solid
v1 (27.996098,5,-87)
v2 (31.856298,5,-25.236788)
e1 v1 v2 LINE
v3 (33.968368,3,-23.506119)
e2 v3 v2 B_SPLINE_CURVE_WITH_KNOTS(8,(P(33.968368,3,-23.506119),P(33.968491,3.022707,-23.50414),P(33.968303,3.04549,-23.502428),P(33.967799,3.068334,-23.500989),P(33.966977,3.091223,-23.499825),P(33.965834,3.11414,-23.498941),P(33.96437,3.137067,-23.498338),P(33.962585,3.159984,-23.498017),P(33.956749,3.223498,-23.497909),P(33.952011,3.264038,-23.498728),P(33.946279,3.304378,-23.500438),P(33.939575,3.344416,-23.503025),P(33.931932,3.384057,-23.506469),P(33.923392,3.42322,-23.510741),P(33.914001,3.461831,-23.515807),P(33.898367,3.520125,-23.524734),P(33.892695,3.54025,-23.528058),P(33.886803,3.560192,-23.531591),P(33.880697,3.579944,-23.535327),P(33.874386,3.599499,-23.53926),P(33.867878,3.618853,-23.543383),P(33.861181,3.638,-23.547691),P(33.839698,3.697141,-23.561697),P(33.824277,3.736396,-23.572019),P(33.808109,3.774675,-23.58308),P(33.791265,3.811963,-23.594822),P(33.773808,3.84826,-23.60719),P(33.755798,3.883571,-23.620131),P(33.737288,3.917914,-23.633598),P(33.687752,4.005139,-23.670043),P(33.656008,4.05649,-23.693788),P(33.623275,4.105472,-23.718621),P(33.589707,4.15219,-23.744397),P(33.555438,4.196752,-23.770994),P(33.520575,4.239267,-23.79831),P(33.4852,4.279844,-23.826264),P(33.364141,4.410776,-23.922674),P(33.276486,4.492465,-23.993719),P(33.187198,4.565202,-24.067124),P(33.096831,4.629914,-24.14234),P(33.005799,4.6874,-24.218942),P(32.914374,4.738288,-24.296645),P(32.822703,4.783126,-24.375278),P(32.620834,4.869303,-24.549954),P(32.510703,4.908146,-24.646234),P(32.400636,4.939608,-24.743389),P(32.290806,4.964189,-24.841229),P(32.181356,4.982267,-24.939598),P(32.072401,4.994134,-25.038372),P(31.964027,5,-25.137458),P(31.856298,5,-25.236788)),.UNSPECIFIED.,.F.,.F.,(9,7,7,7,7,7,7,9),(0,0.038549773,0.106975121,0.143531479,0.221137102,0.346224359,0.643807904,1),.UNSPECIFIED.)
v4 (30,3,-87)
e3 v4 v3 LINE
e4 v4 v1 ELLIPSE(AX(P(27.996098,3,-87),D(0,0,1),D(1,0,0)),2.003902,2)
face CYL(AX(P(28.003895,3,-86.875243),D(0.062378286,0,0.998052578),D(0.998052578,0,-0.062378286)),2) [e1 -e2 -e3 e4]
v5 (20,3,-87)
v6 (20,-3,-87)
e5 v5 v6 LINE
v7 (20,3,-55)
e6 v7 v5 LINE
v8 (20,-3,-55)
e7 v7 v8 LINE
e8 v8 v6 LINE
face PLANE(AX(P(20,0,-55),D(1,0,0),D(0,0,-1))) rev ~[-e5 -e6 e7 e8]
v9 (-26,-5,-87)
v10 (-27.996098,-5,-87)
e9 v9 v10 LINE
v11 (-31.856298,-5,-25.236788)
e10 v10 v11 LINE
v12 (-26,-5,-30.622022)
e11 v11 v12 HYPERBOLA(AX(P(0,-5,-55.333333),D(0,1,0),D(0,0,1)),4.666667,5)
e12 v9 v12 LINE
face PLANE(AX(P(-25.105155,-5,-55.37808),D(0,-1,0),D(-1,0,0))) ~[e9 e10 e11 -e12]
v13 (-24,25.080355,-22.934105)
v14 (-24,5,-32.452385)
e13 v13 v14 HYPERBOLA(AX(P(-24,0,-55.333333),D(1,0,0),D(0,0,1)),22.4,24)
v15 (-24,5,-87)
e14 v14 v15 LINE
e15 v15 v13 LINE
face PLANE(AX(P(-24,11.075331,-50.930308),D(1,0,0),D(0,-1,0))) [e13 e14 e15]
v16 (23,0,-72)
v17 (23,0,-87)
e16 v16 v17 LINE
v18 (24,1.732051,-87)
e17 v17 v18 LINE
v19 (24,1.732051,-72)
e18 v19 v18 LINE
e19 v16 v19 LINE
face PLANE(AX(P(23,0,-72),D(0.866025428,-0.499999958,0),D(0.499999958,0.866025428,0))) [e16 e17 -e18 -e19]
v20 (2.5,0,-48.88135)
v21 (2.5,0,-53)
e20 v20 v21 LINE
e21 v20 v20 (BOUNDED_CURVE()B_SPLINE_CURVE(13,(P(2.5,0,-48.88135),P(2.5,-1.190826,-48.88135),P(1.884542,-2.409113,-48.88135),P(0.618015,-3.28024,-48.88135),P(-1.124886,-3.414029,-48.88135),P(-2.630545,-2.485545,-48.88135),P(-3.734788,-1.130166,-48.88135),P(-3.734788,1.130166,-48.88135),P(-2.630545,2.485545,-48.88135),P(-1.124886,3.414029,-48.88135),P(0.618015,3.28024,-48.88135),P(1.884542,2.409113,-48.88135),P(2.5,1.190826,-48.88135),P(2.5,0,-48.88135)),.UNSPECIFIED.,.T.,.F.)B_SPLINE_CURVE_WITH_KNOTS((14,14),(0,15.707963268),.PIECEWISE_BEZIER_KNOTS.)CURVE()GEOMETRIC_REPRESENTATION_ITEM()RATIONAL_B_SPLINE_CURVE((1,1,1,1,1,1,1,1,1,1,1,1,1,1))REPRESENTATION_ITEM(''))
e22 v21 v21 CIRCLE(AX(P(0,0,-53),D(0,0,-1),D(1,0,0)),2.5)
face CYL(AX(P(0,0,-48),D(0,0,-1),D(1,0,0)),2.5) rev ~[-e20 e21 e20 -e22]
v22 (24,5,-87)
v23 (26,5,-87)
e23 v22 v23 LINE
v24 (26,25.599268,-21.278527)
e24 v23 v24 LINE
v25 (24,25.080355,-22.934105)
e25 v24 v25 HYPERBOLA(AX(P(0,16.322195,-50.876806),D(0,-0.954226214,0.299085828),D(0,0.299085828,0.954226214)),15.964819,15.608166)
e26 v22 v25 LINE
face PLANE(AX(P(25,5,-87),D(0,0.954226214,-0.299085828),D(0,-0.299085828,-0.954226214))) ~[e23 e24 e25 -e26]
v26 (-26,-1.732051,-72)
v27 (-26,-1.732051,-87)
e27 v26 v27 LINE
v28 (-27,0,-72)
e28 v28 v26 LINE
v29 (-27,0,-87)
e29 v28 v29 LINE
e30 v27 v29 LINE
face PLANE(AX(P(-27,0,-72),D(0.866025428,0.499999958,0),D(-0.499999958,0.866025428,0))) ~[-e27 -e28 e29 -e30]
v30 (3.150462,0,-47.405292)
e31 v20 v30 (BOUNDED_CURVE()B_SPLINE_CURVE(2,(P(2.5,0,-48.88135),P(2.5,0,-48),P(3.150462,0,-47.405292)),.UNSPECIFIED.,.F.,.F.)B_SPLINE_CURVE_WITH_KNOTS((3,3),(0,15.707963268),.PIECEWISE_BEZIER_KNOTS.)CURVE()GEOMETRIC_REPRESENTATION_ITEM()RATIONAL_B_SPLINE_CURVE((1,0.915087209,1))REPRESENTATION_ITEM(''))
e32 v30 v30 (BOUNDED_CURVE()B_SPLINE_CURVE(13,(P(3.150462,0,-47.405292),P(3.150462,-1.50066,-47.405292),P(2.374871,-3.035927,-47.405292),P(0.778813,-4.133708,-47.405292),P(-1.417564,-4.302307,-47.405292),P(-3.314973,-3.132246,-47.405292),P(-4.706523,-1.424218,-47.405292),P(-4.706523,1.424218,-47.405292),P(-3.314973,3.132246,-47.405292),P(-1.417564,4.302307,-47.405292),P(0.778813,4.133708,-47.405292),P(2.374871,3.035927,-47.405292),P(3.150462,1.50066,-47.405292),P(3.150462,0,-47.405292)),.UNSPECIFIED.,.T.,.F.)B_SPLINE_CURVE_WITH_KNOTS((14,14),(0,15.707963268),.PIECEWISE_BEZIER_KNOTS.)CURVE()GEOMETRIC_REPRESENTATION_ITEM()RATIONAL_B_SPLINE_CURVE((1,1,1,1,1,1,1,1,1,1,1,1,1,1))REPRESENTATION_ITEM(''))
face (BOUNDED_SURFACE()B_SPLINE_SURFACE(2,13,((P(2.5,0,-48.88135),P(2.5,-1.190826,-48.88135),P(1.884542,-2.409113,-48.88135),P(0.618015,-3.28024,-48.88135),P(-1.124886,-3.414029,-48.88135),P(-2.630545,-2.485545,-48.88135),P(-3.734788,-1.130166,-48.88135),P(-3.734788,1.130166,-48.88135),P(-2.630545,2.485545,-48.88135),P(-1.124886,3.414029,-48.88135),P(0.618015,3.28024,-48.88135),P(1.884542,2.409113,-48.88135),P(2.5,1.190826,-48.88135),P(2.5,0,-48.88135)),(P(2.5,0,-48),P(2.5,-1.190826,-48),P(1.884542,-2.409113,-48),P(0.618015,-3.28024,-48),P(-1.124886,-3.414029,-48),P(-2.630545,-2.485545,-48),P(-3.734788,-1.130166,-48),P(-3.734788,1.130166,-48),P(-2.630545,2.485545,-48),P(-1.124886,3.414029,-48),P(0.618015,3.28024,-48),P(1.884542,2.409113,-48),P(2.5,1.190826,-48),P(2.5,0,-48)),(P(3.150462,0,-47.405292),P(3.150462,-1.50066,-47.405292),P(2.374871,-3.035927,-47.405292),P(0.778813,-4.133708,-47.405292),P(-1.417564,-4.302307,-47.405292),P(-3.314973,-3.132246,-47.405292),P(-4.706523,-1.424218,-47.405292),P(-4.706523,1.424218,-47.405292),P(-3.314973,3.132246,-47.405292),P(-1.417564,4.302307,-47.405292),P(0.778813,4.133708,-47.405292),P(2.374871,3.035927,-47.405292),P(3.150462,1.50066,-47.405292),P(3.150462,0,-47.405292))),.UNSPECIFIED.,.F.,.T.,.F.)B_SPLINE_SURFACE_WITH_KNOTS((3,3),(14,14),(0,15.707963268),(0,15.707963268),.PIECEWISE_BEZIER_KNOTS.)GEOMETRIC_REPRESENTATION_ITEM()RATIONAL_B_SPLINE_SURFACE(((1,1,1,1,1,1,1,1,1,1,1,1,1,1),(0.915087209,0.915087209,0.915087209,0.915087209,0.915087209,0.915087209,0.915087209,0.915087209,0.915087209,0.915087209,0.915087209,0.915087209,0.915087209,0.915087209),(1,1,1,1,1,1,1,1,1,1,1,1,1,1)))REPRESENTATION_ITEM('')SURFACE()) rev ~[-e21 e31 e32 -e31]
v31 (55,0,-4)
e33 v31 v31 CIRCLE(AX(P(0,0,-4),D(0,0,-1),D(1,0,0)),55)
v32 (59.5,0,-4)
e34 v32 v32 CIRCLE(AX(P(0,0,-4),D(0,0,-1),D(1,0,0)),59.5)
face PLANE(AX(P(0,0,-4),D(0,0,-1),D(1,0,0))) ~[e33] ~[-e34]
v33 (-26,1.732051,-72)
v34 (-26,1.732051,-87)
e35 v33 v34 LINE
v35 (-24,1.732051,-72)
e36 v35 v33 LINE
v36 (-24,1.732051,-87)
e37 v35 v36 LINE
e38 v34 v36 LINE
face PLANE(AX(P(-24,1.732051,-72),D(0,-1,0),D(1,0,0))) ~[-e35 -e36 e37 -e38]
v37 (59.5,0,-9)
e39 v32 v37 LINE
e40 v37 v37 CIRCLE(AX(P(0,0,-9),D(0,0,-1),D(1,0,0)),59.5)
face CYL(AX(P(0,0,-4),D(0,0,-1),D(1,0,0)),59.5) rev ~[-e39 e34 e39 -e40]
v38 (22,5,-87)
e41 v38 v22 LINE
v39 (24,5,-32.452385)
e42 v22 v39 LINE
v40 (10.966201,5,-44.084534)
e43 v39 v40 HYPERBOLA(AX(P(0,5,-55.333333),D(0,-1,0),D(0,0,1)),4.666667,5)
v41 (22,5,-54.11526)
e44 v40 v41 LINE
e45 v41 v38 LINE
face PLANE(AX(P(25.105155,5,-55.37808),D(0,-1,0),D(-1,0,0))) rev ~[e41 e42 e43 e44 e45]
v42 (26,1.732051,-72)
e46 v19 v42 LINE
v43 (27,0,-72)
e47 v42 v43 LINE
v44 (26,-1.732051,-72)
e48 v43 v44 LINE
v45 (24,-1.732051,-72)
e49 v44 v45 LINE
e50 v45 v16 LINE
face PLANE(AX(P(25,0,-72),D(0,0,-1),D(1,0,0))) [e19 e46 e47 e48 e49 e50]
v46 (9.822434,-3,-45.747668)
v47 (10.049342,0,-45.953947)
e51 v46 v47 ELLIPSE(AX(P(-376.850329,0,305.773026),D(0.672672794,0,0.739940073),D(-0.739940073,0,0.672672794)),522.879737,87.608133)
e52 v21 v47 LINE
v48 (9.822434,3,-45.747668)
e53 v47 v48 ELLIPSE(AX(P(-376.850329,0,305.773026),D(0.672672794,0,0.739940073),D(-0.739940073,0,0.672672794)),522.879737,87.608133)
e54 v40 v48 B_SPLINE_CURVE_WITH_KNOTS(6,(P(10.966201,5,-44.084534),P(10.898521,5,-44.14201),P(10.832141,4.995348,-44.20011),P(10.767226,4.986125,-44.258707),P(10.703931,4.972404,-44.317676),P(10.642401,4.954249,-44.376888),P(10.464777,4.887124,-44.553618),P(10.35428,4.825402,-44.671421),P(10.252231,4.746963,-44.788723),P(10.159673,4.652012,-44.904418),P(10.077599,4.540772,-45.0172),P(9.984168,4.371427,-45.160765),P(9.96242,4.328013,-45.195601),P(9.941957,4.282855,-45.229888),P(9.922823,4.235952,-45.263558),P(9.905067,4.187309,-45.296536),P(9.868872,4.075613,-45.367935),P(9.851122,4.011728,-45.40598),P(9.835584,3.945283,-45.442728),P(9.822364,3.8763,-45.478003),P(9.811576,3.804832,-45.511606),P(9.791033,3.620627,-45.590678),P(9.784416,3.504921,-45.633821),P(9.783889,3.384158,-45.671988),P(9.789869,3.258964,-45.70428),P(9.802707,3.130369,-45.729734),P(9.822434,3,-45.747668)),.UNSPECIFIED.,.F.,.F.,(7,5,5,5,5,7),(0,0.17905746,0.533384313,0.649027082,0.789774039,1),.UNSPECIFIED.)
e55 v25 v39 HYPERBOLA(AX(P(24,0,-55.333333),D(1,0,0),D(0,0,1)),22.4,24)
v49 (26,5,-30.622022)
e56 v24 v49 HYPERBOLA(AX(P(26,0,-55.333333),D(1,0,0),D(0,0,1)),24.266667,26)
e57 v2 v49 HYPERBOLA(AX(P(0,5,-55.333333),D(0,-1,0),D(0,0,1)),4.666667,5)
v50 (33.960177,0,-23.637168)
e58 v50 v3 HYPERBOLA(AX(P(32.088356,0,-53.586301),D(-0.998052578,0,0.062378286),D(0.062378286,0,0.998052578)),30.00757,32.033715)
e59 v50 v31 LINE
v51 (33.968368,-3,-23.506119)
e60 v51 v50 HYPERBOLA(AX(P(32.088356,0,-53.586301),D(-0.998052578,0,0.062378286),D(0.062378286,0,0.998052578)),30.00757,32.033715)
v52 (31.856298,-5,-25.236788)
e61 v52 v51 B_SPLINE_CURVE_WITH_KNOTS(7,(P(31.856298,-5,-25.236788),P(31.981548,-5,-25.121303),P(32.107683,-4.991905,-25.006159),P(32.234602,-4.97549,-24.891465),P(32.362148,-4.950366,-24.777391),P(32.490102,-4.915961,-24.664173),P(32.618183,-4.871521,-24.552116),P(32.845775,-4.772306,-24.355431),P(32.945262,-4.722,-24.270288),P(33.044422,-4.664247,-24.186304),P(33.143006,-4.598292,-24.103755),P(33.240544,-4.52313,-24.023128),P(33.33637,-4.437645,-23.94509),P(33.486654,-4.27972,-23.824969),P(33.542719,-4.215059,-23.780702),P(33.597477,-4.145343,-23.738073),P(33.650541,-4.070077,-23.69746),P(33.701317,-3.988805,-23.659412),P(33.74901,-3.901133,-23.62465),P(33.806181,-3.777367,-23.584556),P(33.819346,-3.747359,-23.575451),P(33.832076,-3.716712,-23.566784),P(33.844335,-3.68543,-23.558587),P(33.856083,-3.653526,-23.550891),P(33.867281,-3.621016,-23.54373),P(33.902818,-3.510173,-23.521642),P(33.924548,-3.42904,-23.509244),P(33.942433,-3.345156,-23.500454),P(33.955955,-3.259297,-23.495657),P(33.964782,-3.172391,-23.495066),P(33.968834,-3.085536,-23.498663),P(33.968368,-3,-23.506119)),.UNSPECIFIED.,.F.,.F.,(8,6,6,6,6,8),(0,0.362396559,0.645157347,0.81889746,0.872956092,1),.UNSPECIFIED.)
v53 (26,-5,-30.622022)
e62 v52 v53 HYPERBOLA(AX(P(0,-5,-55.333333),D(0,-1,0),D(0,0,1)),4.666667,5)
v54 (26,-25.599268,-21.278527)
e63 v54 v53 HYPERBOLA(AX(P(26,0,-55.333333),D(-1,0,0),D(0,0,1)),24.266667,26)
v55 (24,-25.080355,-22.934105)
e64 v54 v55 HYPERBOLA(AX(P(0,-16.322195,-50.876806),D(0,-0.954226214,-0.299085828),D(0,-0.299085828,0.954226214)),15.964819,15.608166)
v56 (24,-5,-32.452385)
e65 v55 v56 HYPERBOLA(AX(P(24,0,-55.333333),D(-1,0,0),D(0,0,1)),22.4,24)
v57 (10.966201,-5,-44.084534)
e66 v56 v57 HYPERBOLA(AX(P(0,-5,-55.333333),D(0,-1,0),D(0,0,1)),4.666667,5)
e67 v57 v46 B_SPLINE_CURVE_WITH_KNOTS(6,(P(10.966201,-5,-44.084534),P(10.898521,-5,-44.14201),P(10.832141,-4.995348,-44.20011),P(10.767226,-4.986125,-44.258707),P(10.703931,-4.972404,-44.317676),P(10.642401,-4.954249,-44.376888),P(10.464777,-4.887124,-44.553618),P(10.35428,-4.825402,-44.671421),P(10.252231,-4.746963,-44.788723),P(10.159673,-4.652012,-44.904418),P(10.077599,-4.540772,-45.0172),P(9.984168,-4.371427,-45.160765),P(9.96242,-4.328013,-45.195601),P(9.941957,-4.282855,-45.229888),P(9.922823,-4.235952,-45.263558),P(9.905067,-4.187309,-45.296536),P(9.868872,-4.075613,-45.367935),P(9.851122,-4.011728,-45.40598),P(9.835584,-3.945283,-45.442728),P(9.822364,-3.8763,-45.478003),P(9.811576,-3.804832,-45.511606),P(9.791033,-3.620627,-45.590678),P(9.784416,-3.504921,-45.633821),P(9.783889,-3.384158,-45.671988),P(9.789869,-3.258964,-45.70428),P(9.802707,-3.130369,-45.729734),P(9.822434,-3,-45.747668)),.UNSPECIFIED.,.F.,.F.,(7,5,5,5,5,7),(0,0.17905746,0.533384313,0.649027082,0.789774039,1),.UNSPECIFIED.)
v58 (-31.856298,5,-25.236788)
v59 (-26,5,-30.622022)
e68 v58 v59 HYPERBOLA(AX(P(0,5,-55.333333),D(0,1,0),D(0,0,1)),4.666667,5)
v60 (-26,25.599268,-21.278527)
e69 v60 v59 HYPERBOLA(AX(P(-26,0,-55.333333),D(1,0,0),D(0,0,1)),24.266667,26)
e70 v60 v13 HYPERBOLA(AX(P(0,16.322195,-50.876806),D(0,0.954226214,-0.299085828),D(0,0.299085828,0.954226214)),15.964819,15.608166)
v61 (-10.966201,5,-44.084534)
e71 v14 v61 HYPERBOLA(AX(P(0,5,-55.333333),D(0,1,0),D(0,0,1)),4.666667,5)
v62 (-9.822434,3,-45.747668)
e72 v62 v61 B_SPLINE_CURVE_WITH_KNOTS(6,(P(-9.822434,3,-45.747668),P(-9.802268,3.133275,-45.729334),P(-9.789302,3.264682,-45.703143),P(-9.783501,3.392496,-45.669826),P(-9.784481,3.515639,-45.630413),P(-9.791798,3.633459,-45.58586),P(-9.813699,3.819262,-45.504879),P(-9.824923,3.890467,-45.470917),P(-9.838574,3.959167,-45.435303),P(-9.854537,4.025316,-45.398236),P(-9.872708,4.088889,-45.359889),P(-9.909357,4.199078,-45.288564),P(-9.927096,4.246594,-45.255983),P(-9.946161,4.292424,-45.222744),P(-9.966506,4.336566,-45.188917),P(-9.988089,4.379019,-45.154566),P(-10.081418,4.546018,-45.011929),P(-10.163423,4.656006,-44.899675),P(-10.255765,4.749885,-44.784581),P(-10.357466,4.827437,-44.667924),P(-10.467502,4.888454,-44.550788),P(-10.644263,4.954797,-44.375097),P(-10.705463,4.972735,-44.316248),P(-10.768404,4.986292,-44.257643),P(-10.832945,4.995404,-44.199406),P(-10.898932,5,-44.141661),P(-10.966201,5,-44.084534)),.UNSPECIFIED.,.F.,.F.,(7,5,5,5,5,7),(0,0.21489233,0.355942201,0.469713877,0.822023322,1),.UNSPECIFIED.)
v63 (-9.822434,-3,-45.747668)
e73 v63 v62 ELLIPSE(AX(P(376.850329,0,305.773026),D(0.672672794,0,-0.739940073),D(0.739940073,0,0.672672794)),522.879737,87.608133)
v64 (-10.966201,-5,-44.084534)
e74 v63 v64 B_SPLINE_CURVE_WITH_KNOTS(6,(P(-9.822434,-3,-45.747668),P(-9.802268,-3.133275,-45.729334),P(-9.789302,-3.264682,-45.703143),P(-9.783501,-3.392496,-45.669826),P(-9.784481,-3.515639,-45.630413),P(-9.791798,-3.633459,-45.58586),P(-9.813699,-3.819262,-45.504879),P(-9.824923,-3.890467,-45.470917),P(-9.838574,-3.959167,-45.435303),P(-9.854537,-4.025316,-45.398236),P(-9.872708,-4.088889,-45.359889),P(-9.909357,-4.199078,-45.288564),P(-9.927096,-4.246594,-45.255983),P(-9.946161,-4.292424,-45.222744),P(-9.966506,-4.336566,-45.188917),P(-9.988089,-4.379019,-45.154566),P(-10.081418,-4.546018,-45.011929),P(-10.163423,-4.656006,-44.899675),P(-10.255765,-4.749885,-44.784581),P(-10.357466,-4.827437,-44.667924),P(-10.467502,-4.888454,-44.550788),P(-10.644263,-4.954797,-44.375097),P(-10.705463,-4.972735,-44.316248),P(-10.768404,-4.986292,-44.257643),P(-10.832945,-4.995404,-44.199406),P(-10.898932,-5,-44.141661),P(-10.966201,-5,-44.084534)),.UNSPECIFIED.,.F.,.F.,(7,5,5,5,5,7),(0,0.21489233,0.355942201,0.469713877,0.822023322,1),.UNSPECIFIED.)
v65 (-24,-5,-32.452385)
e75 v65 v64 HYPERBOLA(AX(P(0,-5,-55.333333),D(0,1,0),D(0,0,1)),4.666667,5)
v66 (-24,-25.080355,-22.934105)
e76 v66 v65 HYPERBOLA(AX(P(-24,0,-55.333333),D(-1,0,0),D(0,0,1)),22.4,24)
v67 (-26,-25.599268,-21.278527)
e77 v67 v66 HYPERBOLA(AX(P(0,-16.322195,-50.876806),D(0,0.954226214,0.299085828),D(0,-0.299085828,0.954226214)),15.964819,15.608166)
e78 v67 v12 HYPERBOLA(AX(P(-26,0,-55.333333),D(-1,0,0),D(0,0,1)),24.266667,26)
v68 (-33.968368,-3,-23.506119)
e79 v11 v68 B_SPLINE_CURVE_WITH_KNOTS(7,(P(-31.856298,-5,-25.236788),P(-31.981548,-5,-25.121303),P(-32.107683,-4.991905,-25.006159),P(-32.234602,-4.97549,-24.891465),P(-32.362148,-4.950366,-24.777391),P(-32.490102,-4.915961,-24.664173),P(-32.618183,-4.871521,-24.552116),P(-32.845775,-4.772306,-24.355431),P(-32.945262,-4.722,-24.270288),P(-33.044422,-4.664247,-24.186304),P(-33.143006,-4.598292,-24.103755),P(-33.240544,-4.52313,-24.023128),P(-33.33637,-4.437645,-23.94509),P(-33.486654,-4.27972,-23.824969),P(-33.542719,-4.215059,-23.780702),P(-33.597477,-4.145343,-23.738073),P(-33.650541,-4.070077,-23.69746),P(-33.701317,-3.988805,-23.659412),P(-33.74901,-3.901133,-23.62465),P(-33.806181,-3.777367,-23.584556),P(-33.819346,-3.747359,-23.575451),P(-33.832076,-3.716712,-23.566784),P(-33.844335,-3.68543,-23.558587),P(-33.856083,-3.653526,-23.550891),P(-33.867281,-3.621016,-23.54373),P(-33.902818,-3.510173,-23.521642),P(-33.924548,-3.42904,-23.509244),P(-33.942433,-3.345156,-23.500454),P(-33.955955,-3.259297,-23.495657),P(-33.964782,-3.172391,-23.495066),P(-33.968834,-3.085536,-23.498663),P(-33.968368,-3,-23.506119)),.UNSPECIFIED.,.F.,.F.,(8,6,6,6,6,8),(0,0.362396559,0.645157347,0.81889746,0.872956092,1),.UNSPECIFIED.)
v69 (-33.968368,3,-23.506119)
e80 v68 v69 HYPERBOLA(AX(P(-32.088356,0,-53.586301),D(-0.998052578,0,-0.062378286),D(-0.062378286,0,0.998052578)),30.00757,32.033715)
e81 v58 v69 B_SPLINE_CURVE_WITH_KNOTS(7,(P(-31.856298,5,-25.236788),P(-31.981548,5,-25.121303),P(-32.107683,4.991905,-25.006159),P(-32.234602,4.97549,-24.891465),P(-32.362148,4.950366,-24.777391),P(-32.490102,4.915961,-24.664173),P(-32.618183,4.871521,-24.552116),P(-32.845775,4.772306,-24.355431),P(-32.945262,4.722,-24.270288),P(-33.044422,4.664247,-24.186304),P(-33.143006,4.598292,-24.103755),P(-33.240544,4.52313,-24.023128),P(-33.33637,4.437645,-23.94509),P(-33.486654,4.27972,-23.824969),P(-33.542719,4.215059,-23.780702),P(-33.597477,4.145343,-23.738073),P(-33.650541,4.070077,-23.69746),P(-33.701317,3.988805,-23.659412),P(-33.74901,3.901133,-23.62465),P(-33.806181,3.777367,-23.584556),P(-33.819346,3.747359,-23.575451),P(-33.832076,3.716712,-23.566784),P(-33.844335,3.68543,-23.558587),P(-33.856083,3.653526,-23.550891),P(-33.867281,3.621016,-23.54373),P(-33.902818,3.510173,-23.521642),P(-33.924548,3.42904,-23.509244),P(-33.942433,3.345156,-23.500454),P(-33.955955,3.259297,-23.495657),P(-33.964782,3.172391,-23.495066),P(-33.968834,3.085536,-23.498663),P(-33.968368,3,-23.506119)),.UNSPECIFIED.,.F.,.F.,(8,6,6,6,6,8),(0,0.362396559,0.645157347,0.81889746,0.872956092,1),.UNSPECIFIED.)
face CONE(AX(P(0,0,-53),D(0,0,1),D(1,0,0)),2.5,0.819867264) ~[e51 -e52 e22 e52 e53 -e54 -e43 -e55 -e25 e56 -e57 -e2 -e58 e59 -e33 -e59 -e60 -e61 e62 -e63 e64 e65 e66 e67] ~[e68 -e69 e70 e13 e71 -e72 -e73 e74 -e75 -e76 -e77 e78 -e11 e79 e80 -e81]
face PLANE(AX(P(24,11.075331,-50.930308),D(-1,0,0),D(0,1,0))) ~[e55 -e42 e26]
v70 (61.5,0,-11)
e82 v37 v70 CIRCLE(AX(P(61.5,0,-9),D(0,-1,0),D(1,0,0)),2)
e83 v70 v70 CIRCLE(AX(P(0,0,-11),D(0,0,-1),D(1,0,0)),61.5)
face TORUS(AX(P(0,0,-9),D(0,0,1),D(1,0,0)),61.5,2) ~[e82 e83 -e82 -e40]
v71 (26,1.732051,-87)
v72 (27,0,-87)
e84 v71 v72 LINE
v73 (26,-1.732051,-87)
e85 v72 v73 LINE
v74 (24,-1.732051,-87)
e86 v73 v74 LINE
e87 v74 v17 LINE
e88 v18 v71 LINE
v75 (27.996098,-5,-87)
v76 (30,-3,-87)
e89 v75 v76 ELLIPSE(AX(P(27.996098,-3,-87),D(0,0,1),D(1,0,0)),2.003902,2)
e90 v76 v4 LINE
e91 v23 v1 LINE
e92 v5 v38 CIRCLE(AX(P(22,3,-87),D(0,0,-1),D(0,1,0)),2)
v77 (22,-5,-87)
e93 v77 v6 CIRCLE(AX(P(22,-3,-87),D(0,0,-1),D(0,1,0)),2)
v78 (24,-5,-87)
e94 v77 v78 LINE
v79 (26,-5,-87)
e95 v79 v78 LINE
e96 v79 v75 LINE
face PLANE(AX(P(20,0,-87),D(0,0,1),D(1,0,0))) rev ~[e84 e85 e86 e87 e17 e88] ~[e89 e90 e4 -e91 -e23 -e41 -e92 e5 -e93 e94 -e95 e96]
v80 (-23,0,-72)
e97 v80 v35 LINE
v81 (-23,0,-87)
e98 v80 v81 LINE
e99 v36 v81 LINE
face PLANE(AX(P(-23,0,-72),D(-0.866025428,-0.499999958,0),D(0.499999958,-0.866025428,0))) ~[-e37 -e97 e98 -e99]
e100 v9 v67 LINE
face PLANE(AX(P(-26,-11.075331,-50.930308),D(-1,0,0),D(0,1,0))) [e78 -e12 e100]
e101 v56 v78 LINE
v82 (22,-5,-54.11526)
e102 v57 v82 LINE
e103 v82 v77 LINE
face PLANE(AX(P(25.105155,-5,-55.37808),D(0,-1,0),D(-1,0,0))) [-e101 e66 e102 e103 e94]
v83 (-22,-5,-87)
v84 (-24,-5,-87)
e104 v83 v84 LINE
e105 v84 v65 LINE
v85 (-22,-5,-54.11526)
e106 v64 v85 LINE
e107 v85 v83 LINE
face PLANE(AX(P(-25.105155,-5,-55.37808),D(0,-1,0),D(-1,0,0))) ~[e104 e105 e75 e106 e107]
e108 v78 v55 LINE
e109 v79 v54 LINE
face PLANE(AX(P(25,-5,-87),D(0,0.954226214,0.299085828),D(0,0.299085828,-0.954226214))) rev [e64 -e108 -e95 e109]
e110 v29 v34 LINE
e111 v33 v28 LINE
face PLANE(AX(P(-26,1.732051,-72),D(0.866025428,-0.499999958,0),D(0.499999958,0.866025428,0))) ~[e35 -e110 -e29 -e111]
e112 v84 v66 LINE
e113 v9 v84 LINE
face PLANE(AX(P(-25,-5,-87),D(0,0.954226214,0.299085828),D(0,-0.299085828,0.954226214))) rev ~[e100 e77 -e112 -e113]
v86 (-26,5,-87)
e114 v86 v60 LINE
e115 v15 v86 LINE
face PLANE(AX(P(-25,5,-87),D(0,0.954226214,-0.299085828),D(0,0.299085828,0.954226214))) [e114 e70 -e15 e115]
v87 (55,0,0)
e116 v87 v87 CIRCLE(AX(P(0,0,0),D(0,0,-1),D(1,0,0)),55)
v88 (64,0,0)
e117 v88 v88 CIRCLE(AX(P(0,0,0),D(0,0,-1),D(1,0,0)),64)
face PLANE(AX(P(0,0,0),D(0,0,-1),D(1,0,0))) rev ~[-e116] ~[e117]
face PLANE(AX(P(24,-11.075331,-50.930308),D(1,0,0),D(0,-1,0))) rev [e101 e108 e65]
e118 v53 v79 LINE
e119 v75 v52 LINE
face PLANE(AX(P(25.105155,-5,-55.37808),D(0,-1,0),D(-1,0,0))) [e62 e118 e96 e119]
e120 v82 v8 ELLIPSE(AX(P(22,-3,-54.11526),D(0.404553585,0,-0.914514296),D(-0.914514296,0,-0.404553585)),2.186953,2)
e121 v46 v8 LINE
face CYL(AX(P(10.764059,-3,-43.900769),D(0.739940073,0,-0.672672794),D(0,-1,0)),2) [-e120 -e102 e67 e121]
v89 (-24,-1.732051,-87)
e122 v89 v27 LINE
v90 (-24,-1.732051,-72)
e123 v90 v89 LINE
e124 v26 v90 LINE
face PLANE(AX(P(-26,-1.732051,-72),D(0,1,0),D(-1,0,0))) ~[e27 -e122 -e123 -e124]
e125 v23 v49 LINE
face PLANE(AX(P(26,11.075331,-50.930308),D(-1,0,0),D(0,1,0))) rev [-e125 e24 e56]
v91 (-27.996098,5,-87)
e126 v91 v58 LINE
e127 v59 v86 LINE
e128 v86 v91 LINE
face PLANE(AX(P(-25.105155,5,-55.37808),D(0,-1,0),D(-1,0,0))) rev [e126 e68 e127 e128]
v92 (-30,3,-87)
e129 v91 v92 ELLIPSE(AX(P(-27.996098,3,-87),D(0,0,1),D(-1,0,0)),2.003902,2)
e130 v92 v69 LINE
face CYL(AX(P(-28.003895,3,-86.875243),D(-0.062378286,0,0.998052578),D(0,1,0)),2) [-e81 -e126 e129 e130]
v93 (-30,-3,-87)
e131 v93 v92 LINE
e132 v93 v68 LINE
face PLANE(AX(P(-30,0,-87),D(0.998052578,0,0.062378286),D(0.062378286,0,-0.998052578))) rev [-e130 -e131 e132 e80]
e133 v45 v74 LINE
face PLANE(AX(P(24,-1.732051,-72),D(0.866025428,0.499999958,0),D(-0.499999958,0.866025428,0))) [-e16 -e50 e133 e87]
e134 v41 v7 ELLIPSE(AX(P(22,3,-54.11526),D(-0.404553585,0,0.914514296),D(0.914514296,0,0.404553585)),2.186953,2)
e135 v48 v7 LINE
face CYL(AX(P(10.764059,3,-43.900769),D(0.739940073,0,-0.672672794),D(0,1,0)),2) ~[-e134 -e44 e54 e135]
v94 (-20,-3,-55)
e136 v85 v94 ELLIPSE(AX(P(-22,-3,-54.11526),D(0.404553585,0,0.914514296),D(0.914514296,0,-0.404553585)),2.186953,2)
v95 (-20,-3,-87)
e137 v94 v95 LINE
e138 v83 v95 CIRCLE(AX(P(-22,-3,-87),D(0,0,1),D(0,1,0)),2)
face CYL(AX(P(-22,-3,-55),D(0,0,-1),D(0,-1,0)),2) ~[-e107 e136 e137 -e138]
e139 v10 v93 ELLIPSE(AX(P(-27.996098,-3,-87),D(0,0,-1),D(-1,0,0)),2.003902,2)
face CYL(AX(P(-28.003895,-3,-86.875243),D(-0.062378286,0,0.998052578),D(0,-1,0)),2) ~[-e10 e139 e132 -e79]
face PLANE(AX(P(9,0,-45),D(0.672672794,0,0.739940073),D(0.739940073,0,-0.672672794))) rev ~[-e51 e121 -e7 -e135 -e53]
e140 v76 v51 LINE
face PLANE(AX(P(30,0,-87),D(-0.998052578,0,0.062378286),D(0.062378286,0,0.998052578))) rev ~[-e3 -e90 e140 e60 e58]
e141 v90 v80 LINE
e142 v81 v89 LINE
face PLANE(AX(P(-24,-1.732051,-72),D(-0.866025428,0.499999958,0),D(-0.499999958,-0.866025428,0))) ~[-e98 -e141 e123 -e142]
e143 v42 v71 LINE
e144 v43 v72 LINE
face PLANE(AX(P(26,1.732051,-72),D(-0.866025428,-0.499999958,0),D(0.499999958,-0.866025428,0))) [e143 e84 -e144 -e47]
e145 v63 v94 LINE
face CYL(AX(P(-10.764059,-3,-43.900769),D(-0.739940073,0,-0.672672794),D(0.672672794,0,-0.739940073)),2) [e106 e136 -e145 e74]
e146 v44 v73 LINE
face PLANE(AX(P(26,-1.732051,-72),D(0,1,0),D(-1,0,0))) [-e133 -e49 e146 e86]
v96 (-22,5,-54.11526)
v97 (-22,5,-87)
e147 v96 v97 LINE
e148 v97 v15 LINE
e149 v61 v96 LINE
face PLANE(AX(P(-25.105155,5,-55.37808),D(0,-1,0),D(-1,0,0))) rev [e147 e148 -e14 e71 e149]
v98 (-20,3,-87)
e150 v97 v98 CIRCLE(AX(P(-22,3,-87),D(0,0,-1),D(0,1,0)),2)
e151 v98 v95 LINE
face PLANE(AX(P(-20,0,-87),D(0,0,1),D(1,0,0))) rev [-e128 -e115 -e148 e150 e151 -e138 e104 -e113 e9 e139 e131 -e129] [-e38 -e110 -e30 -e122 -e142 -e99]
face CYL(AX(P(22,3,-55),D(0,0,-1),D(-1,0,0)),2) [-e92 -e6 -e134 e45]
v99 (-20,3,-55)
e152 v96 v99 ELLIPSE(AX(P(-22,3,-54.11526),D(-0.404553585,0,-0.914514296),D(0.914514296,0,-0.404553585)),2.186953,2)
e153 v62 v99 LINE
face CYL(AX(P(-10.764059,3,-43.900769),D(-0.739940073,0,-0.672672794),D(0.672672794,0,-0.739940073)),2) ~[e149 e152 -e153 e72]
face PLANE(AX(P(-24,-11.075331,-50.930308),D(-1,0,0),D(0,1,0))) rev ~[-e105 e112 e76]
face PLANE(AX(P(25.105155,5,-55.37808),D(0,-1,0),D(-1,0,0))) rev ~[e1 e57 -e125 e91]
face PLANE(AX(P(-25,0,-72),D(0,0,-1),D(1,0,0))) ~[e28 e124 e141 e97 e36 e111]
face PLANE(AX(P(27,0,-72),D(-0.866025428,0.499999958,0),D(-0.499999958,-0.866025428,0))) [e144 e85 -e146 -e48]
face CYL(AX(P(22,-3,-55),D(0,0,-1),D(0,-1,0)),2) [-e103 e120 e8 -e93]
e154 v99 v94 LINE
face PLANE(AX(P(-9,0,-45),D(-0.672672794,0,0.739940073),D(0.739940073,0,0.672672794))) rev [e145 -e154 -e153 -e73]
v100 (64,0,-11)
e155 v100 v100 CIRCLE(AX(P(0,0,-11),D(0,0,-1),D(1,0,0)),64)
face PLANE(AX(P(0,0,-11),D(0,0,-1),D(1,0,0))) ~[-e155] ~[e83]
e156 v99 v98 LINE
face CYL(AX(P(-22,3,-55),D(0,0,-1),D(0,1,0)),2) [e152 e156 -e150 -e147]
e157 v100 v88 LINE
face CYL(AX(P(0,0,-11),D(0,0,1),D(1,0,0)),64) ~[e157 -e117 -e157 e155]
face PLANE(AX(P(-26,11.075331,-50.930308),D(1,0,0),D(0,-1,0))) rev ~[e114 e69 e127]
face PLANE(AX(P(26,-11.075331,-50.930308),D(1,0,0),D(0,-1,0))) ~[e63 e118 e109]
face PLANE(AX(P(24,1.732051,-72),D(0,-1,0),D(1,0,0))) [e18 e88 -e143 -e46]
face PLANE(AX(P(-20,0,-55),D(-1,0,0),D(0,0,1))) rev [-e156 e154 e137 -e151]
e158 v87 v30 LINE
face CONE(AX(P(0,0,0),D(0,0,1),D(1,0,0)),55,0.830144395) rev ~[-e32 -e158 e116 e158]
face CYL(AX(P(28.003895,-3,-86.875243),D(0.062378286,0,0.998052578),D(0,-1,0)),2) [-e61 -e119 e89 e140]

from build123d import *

# Parameters (mm, degrees)
PAD_DEPTH                  = 5
POCKET_DEPTH               = 416.682466
PAD001_DEPTH               = 1
PAD001_MIRRORED002_2_DEPTH = 1
FILLET_R                   = 2
BODY_PLACEMENT_ANGLE       = 180


with BuildPart() as part:
    # Sketch → Revolution (revolve)
    with BuildSketch(Plane.XZ):
        Polygon((2.5, 53), (55, 4), (59.5, 4), (59.5, 11), (64, 11), (64, 0), (55, 0), (2.5, 48), align=None)
    revolve(axis=Axis((0, 0, 0), (0, 0, 1)))

    # Sketch001 → Pad (new body, symmetric)
    with BuildSketch(Plane.XZ):
        Polygon((9, 45), (20, 55), (20, 87), (30, 87), (34, 23), align=None)
    pad = extrude(amount=PAD_DEPTH, both=True)

    # Mirrored: Pad across Sketch001 V_Axis
    add(pad.mirror(Plane(origin=(0, 0, 0), x_dir=(0, -1, 0), z_dir=(1, 0, 0))))

    # Sketch003 (on DatumPlane) → Pocket (cut, through all)
    with BuildSketch(Plane.XY.offset(72)):
        Polygon((27, 0), (26, 1.732051), (24, 1.732051), (23, 0), (24, -1.732051), (26, -1.732051), align=None)
    pocket = extrude(amount=POCKET_DEPTH, mode=Mode.SUBTRACT)

    # Mirrored001: Pocket across Sketch003 V_Axis
    add(pocket.mirror(Plane(origin=(0, 0, 72), x_dir=(0, 0, 1), z_dir=(1, 0, 0))), mode=Mode.SUBTRACT)

    # Sketch004 (on DatumPlane) → Pad001 (join, symmetric)
    with BuildSketch(Plane.YZ.offset(-25)):
        Polygon((5, 87), (26, 20), (4, 30), (4, 86), align=None)
    pad001 = extrude(amount=PAD001_DEPTH, both=True)

    # Sketch004 Mirrored002 2 → Pad001 Mirrored002 2 (add, symmetric)
    with BuildSketch(Plane(origin=(-25, 0, 0), x_dir=(0, -1, 0), z_dir=(-1, 0, 0))):
        Polygon((5, 87), (26, 20), (4, 30), (4, 86), align=None)
    pad001_mirrored002_2 = extrude(amount=-PAD001_MIRRORED002_2_DEPTH, both=True)

    # Mirrored003: Pad001, Pad001 Mirrored002 2 across YZ
    add(pad001.mirror(Plane.YZ))
    add(pad001_mirrored002_2.mirror(Plane.YZ))

    # Fillet
    fillet_edges = [part.edges().sort_by_distance(p)[0] for p in [
        (-31.991421, -5, 55.137271),
        (-31.991421, 5, 55.137271),
        (31.991421, -5, 55.137271),
        (31.991421, 5, 55.137271),
        (-20, 5, 71),
        (-20, -5, 71),
        (-14.709357, -5, 50.190324),
        (14.709357, -5, 50.190324),
        (20, -5, 71),
        (-2.5, 0, 48),
        (-59.5, 0, 11),
        (20, 5, 71),
        (14.709357, 5, 50.190324),
        (-14.709357, 5, 50.190324),
    ]]
    fillet(fillet_edges, radius=FILLET_R)


with BuildPart() as part_1:
    # Body placement: moved
    add(part.part.rotate(Axis((0, 0, 0), (1, 0, 0)), BODY_PLACEMENT_ANGLE))


solid = part_1.part
